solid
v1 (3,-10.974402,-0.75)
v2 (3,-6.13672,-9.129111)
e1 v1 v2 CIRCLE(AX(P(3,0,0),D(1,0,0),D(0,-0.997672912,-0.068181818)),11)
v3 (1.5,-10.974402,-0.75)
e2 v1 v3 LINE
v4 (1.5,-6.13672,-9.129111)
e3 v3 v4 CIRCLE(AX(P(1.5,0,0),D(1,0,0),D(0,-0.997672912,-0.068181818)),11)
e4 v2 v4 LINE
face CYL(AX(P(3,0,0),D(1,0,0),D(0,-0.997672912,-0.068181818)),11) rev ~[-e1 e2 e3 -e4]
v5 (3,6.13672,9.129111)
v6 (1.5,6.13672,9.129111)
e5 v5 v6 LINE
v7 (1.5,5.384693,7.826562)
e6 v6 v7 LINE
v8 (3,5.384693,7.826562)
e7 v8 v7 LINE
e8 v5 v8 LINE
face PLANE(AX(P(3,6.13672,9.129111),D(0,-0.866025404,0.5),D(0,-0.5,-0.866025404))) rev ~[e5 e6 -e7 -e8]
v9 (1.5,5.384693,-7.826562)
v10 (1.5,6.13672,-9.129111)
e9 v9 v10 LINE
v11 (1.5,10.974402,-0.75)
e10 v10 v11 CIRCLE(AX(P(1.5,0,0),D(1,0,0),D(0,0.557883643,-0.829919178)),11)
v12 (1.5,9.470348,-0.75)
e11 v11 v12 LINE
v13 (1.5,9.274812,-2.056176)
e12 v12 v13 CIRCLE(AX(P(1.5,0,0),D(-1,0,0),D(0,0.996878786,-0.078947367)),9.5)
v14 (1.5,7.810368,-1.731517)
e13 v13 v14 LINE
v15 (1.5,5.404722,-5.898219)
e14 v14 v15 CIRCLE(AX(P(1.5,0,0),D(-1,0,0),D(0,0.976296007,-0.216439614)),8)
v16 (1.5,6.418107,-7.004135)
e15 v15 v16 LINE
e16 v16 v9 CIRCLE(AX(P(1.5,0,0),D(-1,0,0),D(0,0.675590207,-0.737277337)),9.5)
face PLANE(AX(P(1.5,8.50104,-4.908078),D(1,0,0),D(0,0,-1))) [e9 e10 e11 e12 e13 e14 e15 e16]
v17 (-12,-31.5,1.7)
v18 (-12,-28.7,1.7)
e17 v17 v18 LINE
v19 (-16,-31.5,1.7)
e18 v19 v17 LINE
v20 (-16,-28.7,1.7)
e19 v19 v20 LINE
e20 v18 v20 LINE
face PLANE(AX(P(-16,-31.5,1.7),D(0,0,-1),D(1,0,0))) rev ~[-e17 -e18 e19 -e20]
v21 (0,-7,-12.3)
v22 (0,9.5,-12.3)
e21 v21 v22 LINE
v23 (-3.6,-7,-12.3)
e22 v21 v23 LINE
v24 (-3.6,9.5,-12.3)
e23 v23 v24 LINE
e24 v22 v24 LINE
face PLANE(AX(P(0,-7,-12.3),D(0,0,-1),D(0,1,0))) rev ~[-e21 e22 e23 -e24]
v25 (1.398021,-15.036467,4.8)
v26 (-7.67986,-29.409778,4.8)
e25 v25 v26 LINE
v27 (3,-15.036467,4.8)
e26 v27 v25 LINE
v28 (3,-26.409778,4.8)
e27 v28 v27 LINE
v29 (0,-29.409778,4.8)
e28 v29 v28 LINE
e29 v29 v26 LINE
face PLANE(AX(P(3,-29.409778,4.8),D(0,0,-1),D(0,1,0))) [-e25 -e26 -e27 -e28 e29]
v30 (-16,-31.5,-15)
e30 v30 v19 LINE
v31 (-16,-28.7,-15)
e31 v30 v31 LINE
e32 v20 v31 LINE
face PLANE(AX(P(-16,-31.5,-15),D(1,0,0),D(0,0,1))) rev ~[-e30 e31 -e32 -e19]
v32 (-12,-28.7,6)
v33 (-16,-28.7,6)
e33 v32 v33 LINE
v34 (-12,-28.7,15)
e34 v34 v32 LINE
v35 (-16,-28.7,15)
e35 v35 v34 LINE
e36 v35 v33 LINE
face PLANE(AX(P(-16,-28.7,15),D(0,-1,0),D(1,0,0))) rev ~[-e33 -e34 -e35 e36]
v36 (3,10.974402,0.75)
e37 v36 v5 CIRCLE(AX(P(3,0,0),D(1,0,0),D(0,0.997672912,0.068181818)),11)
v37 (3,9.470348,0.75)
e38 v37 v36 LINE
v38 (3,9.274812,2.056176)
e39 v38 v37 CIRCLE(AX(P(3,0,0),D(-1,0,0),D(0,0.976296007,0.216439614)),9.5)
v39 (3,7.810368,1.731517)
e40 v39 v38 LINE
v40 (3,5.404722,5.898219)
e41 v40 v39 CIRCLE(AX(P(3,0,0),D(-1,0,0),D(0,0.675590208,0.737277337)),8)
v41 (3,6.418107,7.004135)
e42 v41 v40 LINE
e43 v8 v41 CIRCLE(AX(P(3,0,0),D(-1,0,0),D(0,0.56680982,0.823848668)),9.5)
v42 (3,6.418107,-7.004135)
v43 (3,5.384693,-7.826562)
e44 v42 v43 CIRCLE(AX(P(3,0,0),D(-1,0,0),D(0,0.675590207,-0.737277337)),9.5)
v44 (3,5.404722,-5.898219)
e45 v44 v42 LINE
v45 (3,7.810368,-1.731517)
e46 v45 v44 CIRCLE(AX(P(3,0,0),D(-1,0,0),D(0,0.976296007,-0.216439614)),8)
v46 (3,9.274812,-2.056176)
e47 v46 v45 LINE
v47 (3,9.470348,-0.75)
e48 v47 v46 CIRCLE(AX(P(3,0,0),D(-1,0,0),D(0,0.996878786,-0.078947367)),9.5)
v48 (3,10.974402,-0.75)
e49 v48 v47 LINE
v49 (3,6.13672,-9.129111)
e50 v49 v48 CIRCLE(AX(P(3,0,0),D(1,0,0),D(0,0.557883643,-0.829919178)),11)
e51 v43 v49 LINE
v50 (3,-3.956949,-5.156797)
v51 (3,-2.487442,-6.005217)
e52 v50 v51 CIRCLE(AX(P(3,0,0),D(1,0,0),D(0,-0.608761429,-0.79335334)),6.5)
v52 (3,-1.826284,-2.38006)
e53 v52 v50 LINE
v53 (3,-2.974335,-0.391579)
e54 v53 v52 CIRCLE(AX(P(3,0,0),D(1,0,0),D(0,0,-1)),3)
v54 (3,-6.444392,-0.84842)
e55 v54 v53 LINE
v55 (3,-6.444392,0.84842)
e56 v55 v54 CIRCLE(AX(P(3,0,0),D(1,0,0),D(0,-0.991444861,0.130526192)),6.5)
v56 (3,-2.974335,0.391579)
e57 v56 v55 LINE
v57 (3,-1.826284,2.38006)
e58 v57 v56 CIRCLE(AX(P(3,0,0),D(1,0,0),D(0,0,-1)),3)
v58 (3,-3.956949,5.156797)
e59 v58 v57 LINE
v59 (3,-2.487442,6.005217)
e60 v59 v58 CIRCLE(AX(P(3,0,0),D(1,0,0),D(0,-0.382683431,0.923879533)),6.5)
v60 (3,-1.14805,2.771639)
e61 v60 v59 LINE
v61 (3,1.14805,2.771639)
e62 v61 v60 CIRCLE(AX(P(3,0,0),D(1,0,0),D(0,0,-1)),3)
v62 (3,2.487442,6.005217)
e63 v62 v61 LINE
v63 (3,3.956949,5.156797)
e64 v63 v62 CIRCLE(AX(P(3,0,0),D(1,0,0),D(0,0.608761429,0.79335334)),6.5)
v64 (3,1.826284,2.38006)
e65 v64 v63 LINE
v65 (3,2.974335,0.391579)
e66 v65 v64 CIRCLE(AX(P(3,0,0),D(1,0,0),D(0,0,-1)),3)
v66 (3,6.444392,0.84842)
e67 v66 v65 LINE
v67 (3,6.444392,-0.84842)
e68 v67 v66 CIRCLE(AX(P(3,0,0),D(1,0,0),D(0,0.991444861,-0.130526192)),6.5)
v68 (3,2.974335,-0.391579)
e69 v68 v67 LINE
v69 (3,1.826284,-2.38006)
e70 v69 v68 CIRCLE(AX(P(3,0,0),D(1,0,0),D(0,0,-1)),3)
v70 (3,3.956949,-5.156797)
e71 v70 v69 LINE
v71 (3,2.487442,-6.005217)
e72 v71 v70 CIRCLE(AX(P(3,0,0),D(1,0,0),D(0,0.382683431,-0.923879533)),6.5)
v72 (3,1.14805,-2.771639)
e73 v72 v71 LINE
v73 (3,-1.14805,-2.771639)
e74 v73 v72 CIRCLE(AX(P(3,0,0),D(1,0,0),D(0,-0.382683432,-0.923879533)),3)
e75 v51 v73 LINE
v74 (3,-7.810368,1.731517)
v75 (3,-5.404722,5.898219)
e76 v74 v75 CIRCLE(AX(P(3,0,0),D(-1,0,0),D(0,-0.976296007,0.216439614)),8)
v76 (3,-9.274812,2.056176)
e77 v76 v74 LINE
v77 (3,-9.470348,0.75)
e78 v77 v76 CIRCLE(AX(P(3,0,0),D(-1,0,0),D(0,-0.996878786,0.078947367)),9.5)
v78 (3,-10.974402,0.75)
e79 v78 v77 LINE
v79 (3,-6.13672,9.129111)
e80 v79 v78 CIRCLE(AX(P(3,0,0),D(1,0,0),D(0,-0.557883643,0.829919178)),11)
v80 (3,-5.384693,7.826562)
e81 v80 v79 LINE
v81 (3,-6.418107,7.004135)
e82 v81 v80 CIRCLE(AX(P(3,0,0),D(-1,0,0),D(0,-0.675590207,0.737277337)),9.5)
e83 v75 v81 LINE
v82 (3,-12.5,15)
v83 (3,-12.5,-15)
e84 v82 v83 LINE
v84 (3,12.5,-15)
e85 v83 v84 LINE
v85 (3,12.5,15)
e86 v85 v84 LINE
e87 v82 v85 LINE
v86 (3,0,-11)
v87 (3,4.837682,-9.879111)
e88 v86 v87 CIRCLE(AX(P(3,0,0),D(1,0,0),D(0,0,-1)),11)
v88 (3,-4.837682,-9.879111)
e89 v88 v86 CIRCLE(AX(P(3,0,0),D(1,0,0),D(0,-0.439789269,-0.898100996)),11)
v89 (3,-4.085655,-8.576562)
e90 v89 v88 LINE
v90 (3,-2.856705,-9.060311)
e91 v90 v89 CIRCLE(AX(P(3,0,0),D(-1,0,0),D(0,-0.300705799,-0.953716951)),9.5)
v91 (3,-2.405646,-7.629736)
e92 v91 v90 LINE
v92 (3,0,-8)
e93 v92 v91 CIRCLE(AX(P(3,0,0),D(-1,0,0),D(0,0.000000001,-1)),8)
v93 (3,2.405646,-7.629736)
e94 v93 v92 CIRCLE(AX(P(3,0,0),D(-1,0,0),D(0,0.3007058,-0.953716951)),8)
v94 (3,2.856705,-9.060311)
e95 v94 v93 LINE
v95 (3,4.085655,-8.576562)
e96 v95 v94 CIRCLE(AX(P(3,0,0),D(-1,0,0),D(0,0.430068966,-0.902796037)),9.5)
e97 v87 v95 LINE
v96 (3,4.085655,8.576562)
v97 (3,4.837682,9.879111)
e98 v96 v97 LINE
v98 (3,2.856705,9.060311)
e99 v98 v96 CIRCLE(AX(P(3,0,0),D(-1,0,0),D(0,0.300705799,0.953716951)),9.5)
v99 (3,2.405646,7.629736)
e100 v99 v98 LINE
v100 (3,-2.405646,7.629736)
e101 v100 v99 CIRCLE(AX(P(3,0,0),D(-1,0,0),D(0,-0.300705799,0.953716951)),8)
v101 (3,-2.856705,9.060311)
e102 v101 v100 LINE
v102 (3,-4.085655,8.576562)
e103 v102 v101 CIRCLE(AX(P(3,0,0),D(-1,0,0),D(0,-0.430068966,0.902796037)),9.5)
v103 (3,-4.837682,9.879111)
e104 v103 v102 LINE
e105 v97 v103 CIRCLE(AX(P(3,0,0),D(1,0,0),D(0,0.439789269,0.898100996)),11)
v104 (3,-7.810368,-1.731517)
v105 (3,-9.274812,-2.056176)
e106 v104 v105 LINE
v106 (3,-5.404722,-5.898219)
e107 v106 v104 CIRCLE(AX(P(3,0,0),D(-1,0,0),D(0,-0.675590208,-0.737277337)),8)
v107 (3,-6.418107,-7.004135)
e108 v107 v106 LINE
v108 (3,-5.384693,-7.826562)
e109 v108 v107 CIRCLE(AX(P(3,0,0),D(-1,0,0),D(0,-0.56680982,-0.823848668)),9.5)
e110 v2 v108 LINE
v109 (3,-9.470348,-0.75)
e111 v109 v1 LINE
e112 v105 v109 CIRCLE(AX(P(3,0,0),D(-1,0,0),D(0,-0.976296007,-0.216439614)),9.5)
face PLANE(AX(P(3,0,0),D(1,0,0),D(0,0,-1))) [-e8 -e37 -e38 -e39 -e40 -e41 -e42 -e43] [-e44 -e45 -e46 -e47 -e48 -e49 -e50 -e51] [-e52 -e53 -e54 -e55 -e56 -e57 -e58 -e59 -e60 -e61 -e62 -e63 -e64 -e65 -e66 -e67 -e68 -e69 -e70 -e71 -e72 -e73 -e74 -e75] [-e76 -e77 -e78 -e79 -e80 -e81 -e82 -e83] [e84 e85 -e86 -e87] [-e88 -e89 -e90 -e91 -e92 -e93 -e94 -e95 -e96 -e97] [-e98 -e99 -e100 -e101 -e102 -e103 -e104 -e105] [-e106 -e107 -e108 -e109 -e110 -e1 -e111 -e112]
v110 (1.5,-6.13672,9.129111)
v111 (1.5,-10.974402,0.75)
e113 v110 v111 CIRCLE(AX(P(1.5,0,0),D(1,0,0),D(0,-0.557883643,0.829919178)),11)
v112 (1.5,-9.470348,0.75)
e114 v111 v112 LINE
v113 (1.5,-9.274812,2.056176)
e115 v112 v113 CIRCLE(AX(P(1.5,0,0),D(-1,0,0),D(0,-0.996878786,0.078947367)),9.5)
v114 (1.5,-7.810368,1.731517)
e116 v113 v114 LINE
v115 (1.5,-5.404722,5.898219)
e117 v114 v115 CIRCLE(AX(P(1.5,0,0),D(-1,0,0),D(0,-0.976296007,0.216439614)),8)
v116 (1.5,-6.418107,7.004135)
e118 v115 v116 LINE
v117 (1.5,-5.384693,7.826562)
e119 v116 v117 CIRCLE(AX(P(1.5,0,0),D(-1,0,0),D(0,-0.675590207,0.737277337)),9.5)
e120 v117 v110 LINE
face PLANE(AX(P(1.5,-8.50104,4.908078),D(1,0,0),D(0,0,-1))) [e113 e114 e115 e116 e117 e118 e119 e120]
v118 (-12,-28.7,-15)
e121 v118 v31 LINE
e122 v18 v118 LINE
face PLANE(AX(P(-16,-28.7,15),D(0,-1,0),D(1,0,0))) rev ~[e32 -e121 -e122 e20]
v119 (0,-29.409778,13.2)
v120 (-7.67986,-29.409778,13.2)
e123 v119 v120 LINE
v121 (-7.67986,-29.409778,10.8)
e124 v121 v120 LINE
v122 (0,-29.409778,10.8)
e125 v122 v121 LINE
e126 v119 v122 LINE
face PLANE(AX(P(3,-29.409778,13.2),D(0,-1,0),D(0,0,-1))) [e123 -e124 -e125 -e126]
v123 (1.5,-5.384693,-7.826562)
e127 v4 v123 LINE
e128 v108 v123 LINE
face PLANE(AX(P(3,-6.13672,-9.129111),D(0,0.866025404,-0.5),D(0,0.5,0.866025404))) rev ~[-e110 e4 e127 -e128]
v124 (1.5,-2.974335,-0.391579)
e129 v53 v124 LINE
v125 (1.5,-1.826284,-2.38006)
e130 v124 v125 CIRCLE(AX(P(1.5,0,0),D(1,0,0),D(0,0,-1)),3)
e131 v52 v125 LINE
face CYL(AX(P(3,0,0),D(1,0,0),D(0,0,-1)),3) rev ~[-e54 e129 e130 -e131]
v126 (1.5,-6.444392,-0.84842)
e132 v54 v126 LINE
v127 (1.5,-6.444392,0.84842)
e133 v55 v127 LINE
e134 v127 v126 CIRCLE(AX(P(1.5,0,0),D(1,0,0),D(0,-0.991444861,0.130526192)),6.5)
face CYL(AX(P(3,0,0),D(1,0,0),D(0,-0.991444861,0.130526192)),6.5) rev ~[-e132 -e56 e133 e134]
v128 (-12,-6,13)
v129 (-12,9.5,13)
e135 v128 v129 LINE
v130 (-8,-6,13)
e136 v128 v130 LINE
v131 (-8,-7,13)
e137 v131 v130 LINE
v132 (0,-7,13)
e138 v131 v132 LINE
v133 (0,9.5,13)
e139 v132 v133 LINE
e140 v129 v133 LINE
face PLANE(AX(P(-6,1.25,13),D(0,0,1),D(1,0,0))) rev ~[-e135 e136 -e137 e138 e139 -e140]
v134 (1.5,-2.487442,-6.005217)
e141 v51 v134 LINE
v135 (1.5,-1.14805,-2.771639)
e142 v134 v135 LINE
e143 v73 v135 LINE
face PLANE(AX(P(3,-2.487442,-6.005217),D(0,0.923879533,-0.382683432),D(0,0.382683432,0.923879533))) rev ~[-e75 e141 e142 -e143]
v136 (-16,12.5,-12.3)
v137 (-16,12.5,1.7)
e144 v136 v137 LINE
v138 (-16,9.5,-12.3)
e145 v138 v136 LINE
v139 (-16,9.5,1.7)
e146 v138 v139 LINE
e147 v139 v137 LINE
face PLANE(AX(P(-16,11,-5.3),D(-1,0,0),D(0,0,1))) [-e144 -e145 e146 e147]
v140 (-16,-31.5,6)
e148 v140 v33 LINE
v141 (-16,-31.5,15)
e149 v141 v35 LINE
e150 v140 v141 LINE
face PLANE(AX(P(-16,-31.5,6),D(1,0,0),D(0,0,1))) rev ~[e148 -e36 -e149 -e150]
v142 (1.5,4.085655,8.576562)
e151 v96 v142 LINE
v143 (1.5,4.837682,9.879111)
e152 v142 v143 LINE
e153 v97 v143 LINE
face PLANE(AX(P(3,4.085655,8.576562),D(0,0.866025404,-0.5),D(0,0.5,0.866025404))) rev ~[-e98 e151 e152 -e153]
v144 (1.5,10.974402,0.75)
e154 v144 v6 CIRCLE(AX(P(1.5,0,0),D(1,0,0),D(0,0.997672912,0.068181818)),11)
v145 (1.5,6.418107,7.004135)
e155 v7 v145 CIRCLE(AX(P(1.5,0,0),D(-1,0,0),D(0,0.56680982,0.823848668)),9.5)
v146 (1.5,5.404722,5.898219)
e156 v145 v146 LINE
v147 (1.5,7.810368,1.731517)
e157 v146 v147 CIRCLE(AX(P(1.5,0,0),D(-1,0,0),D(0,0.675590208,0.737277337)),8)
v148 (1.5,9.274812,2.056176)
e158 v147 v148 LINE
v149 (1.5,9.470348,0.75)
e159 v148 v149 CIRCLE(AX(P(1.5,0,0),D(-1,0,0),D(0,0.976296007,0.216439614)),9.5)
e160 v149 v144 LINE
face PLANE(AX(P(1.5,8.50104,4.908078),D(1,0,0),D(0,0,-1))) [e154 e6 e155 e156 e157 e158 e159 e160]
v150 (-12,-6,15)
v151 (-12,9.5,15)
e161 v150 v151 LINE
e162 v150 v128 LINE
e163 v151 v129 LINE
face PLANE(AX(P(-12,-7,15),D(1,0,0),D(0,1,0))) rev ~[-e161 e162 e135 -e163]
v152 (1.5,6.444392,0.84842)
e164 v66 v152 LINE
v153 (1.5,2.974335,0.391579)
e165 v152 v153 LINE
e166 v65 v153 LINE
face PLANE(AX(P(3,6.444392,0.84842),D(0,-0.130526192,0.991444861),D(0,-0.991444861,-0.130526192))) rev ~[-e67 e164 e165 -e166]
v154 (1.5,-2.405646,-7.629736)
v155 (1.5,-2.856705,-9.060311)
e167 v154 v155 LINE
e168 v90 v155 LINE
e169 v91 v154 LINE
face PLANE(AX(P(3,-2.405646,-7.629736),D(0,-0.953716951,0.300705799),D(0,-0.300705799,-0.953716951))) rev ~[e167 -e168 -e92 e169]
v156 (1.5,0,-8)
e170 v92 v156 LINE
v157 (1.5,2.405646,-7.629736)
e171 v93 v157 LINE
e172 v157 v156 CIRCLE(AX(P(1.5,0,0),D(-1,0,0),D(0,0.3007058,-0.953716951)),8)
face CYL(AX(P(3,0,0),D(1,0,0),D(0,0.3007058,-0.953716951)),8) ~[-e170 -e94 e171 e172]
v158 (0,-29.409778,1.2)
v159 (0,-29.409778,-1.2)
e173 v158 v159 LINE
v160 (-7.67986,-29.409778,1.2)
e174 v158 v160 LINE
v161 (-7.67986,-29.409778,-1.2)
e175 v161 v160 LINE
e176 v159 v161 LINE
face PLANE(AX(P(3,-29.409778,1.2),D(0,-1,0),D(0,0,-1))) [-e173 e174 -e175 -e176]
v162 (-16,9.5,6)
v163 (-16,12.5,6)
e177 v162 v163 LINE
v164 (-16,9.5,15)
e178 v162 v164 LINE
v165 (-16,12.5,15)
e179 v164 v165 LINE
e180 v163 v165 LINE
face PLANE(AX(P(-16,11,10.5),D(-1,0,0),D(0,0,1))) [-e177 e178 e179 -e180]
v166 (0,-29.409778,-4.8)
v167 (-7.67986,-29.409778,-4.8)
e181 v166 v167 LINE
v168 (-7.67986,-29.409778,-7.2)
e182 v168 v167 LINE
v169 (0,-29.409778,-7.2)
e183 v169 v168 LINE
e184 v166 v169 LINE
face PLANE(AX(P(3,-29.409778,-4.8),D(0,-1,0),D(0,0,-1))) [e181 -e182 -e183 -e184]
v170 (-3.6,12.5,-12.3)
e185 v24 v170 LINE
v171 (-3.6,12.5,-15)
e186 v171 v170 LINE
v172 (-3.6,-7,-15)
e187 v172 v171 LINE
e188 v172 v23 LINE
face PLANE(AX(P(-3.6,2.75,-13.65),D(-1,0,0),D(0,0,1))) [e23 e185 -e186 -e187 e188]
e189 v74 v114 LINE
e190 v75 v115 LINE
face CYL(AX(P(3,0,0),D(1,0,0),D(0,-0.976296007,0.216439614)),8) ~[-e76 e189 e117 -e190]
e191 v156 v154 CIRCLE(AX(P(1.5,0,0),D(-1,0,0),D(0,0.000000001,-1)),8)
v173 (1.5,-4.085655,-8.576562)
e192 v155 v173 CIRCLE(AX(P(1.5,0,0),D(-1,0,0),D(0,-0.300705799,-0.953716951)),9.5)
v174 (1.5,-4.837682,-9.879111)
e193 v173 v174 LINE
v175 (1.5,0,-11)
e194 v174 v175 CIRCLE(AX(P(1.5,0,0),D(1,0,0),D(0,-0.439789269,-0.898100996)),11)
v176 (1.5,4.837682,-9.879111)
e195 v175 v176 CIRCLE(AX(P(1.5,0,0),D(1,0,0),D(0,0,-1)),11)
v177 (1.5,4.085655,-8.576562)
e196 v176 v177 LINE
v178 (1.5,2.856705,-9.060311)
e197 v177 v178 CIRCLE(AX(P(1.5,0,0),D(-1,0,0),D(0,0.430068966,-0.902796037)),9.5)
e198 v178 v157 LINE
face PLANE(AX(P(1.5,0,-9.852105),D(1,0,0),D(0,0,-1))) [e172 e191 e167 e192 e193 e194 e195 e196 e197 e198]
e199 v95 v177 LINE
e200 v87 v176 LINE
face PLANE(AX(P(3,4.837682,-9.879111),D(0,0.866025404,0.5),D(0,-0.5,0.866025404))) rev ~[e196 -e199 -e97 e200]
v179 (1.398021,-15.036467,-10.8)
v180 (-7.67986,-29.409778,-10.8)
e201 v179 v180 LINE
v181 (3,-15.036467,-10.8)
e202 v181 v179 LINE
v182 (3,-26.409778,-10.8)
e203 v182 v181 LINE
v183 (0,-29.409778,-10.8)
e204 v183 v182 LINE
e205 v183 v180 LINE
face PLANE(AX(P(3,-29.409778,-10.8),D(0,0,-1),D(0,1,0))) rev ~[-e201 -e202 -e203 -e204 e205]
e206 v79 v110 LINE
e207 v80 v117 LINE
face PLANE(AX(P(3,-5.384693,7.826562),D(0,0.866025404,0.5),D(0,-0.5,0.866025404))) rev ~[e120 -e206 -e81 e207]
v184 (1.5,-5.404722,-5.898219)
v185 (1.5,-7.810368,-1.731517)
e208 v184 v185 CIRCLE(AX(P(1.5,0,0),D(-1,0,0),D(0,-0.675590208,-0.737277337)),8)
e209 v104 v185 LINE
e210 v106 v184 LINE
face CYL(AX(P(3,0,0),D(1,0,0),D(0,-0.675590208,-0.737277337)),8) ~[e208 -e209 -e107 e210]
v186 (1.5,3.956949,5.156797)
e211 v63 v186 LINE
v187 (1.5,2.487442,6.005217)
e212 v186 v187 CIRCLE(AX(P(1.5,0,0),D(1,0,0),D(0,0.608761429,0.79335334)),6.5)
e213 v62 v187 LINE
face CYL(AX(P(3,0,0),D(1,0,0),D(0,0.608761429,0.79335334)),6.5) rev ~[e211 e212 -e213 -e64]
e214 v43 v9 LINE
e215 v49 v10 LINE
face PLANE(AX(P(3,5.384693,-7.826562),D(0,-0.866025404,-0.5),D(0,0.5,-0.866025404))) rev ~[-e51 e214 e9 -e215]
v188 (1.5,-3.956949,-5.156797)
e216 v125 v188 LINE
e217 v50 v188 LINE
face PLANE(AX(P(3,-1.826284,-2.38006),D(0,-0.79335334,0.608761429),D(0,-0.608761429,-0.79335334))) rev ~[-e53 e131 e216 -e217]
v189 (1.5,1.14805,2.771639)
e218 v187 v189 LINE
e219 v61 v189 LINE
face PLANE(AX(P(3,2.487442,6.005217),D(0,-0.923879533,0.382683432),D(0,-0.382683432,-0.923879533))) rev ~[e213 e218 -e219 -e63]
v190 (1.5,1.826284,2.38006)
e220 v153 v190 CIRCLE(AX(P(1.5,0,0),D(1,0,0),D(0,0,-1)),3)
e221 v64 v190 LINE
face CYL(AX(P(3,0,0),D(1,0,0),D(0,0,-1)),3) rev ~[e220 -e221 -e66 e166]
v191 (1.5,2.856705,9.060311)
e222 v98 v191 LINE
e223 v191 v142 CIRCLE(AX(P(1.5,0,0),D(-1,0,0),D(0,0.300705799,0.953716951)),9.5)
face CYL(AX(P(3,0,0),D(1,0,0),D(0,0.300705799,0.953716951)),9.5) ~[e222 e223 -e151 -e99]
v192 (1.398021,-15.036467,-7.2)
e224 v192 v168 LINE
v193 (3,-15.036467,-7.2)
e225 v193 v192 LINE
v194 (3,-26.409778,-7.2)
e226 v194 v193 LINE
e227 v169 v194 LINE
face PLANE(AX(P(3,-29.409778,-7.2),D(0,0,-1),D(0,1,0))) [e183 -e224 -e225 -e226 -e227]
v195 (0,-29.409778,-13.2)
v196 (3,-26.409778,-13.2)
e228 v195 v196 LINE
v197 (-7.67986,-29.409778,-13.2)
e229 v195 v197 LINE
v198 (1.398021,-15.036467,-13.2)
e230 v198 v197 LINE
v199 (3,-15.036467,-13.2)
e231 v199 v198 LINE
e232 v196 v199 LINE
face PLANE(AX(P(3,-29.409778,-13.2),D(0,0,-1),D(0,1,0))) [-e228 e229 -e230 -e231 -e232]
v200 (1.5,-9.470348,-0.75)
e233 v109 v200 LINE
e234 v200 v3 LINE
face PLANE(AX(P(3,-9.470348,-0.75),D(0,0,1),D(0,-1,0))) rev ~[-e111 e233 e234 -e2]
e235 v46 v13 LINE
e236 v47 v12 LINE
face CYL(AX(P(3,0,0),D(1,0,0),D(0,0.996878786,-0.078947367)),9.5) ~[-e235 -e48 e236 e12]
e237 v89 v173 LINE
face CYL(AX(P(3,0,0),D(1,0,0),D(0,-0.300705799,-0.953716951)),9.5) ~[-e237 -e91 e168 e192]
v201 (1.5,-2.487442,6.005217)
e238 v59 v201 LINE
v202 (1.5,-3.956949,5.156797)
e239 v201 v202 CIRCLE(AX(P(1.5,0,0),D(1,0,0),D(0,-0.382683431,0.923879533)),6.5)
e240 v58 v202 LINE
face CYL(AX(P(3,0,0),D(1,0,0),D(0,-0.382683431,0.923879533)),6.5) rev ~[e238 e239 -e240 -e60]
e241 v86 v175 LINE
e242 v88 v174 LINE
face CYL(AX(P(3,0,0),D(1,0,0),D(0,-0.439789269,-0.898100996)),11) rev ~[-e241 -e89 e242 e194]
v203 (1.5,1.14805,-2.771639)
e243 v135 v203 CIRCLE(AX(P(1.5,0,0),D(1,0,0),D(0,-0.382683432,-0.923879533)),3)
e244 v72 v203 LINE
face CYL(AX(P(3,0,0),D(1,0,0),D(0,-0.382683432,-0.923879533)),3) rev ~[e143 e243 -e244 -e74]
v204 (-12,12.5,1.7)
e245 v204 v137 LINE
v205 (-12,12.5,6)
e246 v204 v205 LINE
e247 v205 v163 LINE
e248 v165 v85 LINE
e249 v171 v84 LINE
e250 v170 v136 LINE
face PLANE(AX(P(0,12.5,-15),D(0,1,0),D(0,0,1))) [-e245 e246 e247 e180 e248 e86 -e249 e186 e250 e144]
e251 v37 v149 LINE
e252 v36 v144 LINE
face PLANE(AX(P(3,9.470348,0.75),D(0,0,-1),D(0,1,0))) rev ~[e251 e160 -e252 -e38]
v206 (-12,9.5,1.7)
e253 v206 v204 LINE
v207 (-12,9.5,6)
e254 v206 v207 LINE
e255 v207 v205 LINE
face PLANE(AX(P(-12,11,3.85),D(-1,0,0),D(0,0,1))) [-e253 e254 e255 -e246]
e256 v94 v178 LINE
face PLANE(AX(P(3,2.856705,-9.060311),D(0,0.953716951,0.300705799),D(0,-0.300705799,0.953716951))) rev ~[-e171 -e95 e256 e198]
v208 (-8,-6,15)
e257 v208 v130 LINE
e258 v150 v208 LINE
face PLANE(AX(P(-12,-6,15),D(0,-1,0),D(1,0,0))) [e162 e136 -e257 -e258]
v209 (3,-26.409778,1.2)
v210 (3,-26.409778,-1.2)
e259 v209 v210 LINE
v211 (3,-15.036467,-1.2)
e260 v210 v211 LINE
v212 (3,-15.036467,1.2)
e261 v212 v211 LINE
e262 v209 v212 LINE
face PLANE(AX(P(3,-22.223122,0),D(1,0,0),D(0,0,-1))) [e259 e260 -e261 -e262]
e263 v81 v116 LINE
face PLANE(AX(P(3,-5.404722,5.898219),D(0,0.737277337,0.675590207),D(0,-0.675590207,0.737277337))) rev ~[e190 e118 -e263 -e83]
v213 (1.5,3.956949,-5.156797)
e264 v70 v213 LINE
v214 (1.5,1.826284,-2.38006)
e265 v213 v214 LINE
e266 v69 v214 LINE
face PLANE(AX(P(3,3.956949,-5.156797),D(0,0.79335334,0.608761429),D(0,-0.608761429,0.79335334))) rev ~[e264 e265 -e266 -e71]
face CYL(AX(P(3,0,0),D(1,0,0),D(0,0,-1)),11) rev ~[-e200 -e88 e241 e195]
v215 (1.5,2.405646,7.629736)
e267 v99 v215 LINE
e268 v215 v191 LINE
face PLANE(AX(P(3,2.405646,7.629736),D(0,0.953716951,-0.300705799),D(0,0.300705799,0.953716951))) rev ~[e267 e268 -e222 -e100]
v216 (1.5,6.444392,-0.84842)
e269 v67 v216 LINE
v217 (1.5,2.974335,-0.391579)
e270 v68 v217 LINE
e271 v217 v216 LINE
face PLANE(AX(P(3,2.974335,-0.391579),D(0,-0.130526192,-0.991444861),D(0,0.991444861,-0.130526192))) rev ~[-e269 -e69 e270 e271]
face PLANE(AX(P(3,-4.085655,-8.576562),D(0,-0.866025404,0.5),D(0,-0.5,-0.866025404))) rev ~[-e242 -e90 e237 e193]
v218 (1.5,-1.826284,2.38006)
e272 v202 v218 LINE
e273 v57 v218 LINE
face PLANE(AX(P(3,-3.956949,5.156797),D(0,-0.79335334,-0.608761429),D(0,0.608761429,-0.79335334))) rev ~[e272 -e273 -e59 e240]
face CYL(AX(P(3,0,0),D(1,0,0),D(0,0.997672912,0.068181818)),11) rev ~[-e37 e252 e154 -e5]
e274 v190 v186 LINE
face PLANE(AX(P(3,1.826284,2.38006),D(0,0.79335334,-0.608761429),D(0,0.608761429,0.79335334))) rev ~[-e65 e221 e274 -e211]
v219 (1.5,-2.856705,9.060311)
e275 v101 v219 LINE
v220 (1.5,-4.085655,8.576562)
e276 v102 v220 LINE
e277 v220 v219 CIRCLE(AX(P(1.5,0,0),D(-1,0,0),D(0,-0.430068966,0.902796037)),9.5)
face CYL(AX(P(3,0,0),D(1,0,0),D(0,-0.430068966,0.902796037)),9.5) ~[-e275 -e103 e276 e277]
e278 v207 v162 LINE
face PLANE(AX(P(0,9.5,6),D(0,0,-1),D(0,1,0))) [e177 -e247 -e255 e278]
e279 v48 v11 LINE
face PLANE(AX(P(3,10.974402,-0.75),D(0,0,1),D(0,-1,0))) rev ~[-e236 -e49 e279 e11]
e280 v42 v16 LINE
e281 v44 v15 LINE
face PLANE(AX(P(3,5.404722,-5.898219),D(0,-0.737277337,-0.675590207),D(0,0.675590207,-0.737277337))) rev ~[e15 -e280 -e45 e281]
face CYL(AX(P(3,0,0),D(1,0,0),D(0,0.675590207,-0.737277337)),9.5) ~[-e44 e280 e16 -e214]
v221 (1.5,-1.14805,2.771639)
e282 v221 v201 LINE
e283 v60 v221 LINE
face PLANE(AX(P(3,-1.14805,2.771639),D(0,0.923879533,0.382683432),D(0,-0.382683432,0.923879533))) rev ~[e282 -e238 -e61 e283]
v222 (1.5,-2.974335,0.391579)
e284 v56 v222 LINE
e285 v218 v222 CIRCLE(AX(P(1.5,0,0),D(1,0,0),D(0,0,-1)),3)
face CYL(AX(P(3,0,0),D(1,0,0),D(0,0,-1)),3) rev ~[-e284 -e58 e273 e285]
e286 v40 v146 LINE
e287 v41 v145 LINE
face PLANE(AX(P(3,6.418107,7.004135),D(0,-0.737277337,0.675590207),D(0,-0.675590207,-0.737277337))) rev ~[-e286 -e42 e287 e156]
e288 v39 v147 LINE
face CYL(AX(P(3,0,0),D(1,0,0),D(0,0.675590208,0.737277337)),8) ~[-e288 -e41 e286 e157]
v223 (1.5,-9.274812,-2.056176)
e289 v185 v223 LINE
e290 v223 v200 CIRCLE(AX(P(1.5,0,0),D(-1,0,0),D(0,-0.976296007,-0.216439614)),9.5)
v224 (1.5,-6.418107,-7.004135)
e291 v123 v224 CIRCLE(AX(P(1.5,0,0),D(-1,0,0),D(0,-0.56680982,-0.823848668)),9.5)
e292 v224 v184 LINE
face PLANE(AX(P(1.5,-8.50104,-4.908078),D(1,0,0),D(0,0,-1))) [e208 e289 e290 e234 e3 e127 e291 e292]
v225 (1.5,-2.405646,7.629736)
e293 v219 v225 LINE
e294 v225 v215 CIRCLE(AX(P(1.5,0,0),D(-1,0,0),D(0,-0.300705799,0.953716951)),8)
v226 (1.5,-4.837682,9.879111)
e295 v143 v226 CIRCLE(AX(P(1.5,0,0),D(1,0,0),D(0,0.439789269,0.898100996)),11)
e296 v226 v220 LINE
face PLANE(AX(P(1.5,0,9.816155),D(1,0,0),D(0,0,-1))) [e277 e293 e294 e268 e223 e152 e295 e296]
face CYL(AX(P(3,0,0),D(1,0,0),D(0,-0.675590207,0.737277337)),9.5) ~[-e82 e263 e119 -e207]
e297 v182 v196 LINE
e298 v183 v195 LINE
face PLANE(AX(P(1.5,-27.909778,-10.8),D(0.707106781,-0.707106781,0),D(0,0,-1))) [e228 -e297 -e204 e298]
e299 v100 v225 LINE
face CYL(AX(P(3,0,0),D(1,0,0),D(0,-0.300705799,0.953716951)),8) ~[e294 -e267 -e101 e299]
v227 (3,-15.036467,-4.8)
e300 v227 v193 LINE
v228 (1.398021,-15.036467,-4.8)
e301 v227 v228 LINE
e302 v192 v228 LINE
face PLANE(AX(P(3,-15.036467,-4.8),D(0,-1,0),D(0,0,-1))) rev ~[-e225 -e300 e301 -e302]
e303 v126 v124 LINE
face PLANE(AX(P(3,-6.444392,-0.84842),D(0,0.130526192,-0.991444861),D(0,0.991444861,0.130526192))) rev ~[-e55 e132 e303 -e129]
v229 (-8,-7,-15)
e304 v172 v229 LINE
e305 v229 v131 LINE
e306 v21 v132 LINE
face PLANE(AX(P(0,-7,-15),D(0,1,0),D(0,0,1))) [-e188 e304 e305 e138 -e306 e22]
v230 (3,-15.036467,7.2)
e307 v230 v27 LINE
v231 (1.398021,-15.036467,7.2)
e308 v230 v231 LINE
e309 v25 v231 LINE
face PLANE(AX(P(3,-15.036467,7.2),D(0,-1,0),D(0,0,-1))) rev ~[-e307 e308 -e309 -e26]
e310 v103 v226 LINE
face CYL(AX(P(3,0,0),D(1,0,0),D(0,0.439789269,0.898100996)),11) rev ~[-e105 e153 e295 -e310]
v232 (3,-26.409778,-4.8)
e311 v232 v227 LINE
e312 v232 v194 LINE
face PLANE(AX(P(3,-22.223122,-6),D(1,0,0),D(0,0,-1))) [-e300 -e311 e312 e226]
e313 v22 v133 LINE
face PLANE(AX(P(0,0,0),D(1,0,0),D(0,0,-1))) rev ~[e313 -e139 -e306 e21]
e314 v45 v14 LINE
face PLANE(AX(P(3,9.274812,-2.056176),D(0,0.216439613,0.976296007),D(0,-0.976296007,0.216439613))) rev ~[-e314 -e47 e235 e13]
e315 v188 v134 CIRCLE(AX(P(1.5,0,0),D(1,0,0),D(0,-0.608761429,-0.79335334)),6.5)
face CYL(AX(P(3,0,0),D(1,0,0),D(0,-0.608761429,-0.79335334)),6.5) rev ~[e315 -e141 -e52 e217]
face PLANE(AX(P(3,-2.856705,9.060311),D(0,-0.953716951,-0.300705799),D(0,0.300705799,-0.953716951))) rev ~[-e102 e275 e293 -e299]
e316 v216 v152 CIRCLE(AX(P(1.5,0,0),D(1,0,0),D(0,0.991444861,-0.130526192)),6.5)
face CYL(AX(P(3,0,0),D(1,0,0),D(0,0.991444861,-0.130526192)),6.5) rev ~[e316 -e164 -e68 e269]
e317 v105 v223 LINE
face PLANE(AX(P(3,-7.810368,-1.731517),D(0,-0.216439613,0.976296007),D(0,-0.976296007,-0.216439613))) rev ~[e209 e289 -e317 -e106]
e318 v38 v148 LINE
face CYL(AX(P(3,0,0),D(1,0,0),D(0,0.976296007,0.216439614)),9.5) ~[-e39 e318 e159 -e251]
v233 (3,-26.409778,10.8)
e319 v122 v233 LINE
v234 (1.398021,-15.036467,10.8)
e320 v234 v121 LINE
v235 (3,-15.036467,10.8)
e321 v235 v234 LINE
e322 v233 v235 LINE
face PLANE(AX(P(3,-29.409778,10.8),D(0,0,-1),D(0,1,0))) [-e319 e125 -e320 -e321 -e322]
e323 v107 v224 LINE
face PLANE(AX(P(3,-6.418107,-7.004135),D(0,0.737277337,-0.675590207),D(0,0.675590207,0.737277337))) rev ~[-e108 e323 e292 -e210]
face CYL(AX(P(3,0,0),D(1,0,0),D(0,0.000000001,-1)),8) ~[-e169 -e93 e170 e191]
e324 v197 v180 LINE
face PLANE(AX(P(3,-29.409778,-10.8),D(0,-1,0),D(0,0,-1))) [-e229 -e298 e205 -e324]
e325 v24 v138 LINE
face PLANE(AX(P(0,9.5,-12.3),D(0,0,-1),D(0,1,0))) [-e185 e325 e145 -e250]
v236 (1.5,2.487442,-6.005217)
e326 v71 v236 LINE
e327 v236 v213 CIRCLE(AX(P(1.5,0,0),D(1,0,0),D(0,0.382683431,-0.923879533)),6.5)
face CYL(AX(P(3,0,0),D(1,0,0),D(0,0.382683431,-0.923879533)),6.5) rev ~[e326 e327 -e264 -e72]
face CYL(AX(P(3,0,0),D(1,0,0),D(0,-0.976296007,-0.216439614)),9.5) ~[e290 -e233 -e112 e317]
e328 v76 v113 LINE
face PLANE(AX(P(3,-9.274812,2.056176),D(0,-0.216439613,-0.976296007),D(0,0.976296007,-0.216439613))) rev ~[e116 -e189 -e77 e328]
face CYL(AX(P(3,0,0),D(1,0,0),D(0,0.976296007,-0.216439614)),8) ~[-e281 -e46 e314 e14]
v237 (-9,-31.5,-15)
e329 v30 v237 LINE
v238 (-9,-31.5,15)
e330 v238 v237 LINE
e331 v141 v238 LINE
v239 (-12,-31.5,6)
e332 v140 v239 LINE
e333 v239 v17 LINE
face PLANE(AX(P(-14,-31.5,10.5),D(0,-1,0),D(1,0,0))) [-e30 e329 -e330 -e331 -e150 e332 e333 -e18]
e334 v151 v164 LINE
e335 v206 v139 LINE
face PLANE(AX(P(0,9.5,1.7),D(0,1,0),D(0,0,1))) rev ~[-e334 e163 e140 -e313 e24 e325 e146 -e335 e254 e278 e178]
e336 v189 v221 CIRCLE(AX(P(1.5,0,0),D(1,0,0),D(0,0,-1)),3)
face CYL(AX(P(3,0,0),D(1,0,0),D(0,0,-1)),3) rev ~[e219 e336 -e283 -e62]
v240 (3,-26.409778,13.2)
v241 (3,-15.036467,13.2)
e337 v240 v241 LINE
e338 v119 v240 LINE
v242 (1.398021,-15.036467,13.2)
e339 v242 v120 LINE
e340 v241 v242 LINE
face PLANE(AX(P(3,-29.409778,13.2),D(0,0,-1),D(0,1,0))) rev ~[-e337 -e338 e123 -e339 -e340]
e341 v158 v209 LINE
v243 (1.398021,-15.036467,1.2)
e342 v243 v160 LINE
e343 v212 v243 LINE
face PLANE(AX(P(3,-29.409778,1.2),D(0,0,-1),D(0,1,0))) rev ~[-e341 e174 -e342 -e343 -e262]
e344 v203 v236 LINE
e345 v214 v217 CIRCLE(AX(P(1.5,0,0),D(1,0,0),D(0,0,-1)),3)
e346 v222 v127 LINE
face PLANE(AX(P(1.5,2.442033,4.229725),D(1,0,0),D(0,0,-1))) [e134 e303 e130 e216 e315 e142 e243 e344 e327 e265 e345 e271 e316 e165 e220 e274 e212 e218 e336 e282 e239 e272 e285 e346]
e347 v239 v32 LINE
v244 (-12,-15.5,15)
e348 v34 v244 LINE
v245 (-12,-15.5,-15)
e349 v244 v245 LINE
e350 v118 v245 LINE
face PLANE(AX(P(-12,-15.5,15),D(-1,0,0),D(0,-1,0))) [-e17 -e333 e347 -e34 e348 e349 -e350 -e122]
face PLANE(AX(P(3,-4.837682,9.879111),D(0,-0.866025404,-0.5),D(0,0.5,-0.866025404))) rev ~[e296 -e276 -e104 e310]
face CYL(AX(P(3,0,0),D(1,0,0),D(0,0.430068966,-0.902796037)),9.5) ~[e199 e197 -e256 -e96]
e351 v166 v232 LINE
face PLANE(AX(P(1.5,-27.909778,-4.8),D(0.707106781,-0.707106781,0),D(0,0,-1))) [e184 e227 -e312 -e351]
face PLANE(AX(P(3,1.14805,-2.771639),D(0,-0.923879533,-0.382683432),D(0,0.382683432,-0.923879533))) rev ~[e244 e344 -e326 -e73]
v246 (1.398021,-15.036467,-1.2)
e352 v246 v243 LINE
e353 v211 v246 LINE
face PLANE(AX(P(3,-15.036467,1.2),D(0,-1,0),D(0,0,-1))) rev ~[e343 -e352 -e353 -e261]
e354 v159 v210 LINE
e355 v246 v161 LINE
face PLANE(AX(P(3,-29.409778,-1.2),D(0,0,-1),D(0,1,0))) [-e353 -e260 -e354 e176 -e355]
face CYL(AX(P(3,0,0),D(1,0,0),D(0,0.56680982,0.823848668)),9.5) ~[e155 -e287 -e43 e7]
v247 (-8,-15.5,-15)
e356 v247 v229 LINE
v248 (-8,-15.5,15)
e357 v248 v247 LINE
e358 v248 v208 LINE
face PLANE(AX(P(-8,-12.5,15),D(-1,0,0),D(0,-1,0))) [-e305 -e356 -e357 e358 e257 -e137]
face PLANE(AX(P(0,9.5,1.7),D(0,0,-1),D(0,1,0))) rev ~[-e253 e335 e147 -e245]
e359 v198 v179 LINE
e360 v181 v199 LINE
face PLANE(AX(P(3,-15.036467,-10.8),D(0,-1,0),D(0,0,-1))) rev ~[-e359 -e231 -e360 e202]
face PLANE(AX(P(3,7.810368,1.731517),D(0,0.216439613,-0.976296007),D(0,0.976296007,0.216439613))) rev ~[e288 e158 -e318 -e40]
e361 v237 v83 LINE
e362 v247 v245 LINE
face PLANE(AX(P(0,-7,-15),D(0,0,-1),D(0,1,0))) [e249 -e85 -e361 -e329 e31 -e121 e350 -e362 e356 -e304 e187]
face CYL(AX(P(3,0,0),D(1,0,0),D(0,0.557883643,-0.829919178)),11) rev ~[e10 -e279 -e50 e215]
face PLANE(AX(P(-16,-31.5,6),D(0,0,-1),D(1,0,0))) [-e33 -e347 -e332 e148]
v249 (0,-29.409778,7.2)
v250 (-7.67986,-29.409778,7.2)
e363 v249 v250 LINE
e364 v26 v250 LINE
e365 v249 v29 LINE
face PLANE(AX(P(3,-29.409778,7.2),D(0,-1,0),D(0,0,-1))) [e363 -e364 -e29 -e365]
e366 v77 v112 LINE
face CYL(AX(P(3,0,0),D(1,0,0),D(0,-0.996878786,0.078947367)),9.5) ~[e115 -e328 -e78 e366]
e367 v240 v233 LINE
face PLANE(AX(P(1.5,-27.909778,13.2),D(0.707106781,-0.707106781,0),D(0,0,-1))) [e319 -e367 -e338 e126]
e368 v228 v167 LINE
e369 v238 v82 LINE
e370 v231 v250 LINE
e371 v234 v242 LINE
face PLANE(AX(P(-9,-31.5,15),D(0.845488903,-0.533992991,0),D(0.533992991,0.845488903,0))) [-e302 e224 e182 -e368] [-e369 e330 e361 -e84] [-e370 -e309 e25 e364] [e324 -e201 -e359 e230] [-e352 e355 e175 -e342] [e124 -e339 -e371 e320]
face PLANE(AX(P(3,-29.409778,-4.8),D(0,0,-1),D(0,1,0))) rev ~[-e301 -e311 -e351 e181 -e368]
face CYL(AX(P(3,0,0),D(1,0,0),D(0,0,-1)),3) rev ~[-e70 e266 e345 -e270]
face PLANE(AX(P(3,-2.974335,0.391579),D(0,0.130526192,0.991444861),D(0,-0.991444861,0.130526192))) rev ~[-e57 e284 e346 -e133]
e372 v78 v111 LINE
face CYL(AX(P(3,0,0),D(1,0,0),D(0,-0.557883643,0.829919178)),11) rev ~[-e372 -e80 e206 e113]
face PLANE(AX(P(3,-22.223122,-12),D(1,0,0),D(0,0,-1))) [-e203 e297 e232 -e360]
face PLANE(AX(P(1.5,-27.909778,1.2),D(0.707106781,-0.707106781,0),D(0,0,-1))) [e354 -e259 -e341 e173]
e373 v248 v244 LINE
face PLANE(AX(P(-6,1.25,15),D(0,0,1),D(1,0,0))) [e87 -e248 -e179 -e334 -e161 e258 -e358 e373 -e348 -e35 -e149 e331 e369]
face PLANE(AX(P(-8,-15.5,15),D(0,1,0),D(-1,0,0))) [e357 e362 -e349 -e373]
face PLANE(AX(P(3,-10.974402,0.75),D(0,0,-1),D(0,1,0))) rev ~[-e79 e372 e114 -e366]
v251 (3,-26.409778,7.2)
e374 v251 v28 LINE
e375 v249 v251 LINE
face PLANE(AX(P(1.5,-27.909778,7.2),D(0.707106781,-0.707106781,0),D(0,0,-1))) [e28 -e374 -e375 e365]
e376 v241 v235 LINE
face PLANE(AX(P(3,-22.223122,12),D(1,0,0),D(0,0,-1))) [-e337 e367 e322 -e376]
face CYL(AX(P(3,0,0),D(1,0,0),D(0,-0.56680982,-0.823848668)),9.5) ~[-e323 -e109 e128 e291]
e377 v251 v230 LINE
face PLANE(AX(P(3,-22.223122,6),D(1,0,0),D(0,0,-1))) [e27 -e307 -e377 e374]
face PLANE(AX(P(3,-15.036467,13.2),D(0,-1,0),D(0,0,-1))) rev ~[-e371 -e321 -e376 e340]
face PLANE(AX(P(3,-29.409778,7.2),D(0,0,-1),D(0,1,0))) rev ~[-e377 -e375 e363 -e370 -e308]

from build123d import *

# Parameters (mm, degrees)
SKETCH1_W           = 30
SKETCH1_H           = 25
BOSS_EXTRUDE1_DEPTH = 3
SKETCH2_W           = 9
SKETCH2_H           = 3
SKETCH2_W_2         = 14
BOSS_EXTRUDE2_DEPTH = 16
SKETCH3_W           = 4.3
SKETCH3_H           = 3
BOSS_EXTRUDE3_DEPTH = 12
SKETCH4_W           = 30
SKETCH4_H           = 5.5
BOSS_EXTRUDE4_DEPTH = 8
BOSS_EXTRUDE5_DEPTH = 30
SKETCH7_W           = 4
SKETCH7_H           = 9
SKETCH7_H_2         = 16.7
BOSS_EXTRUDE6_DEPTH = 3
SKETCH9_W           = 12
SKETCH9_H           = 16.5
BOSS_EXTRUDE7_DEPTH = 2
BOSS_EXTRUDE8_REACH = 41.727
SKETCH11_W          = 2.4
SKETCH11_H          = 14.373311352
CHAMFER1_SIZE       = 3
SKETCH12_R          = 3
CUT_EXTRUDE1_DEPTH  = 1.5
SKETCH13_W          = 2.7
SKETCH13_H          = 19.5
BOSS_EXTRUDE9_DEPTH = 3.6
SKETCH14_W          = 4
SKETCH14_H          = 1
SKETCH14_H_2        = 0.2
CUT_EXTRUDE2_DEPTH  = 47.349217901


with BuildPart() as part:
    # Sketch1 → Boss-Extrude1 (new body)
    with BuildSketch(Plane(origin=(0, 0, 0), x_dir=(0, 0, -1), z_dir=(1, 0, 0))):
        Rectangle(SKETCH1_W, SKETCH1_H)
    extrude(amount=BOSS_EXTRUDE1_DEPTH)

    # Sketch2 → Boss-Extrude2 (add)
    with BuildSketch(Plane.ZY):
        with Locations((10.5, 11)):
            Rectangle(SKETCH2_W, SKETCH2_H)
        with Locations((-5.3, 11)):
            Rectangle(SKETCH2_W_2, SKETCH2_H)
    extrude(amount=BOSS_EXTRUDE2_DEPTH)

    # Sketch3 → Boss-Extrude3 (add)
    with BuildSketch(Plane.ZY):
        with Locations((3.85, 11)):
            Rectangle(SKETCH3_W, SKETCH3_H)
    extrude(amount=BOSS_EXTRUDE3_DEPTH)

    # Sketch4 → Boss-Extrude4 (add)
    with BuildSketch(Plane.ZY):
        with Locations((0, -9.75)):
            Rectangle(SKETCH4_W, SKETCH4_H)
    extrude(amount=BOSS_EXTRUDE4_DEPTH)

    # Sketch5 → Boss-Extrude5 (add)
    with BuildSketch(Plane.XY.offset(15)):
        Polygon((-12, -31.5), (-9, -31.5), (3, -12.5), (-8, -12.5), (-8, -15.5), (-12, -15.5), align=None)
    extrude(amount=-BOSS_EXTRUDE5_DEPTH)

    # Sketch7 → Boss-Extrude6 (add)
    with BuildSketch(Plane.XZ.offset(31.5)):
        with Locations((-14, 10.5)):
            Rectangle(SKETCH7_W, SKETCH7_H)
        with Locations((-14, -6.65)):
            Rectangle(SKETCH7_W, SKETCH7_H_2)
    extrude(amount=-BOSS_EXTRUDE6_DEPTH)

    # Sketch9 → Boss-Extrude7 (add)
    with BuildSketch(Plane.XY.offset(15)):
        with Locations((-6, 1.25)):
            Rectangle(SKETCH9_W, SKETCH9_H)
    extrude(amount=-BOSS_EXTRUDE7_DEPTH)

    # Boss-Extrude8: up to this plane
    boss_extrude8_end = Plane(origin=(-9, -31.5, -39.207436874), z_dir=(0.8454889030309711, -0.5339929913879816, 0))
    # Sketch11 → Boss-Extrude8 (add, up to the surface)
    with BuildSketch(Plane(origin=(3, 0, 0), x_dir=(0, 0, -1), z_dir=(1, 0, 0)), mode=Mode.PRIVATE) as boss_extrude8_sk1:
        with Locations((-12, -22.223122385)):
            Rectangle(SKETCH11_W, SKETCH11_H)
    boss_extrude8_tool1 = split(extrude(boss_extrude8_sk1.sketch, amount=-BOSS_EXTRUDE8_REACH, mode=Mode.PRIVATE), bisect_by=boss_extrude8_end, keep=Keep.BOTH, mode=Mode.PRIVATE)
    add(boss_extrude8_tool1.solids().sort_by_distance((3, -22.223122, 12))[0])
    # Sketch11 → Boss-Extrude8 (add, up to the surface)
    with BuildSketch(Plane(origin=(3, 0, 0), x_dir=(0, 0, -1), z_dir=(1, 0, 0)), mode=Mode.PRIVATE) as boss_extrude8_sk2:
        with Locations((-6, -22.223122385)):
            Rectangle(SKETCH11_W, SKETCH11_H)
    boss_extrude8_tool2 = split(extrude(boss_extrude8_sk2.sketch, amount=-BOSS_EXTRUDE8_REACH, mode=Mode.PRIVATE), bisect_by=boss_extrude8_end, keep=Keep.BOTH, mode=Mode.PRIVATE)
    add(boss_extrude8_tool2.solids().sort_by_distance((3, -22.223122, 6))[0])
    # Sketch11 → Boss-Extrude8 (add, up to the surface)
    with BuildSketch(Plane(origin=(3, 0, 0), x_dir=(0, 0, -1), z_dir=(1, 0, 0)), mode=Mode.PRIVATE) as boss_extrude8_sk3:
        with Locations((0, -22.223122385)):
            Rectangle(SKETCH11_W, SKETCH11_H)
    boss_extrude8_tool3 = split(extrude(boss_extrude8_sk3.sketch, amount=-BOSS_EXTRUDE8_REACH, mode=Mode.PRIVATE), bisect_by=boss_extrude8_end, keep=Keep.BOTH, mode=Mode.PRIVATE)
    add(boss_extrude8_tool3.solids().sort_by_distance((3, -22.223122, 0))[0])
    # Sketch11 → Boss-Extrude8 (add, up to the surface)
    with BuildSketch(Plane(origin=(3, 0, 0), x_dir=(0, 0, -1), z_dir=(1, 0, 0)), mode=Mode.PRIVATE) as boss_extrude8_sk4:
        with Locations((6, -22.223122385)):
            Rectangle(SKETCH11_W, SKETCH11_H)
    boss_extrude8_tool4 = split(extrude(boss_extrude8_sk4.sketch, amount=-BOSS_EXTRUDE8_REACH, mode=Mode.PRIVATE), bisect_by=boss_extrude8_end, keep=Keep.BOTH, mode=Mode.PRIVATE)
    add(boss_extrude8_tool4.solids().sort_by_distance((3, -22.223122, -6))[0])
    # Sketch11 → Boss-Extrude8 (add, up to the surface)
    with BuildSketch(Plane(origin=(3, 0, 0), x_dir=(0, 0, -1), z_dir=(1, 0, 0)), mode=Mode.PRIVATE) as boss_extrude8_sk5:
        with Locations((12, -22.223122385)):
            Rectangle(SKETCH11_W, SKETCH11_H)
    boss_extrude8_tool5 = split(extrude(boss_extrude8_sk5.sketch, amount=-BOSS_EXTRUDE8_REACH, mode=Mode.PRIVATE), bisect_by=boss_extrude8_end, keep=Keep.BOTH, mode=Mode.PRIVATE)
    add(boss_extrude8_tool5.solids().sort_by_distance((3, -22.223122, -12))[0])

    # Chamfer1
    chamfer1_edges = [part.edges().sort_by_distance(p)[0] for p in [
        (3, -29.409778061, 12),
        (3, -29.409778061, 6),
        (3, -29.409778061, 0),
        (3, -29.409778061, -6),
        (3, -29.409778061, -12),
    ]]
    chamfer(chamfer1_edges, length=CHAMFER1_SIZE)

    # Sketch12 → Cut-Extrude1 (cut)
    with BuildSketch(Plane(origin=(3, 0, 0), x_dir=(0, 0, -1), z_dir=(1, 0, 0))):
        with BuildLine():
            Line((-0.75, 9.470348462), (-0.75, 10.974402034))
            ThreePointArc((-0.75, 10.974402034), (-5.5, 9.526279442), (-9.129110953, 6.13672007))
            Line((-9.129110953, 6.13672007), (-7.826562351, 5.384693284))
            ThreePointArc((-7.826562351, 5.384693284), (-7.433328979, 5.915709618), (-7.0041347, 6.418106972))
            ThreePointArc((-7.0041347, 6.418106972), (-4.75, 8.227241336), (-2.056176332, 9.274812068))
            ThreePointArc((-2.056176332, 9.274812068), (-1.406490321, 9.39530654), (-0.75, 9.470348462))
        make_face()
        with BuildLine():
            Line((-8.576562351, 4.085655178), (-9.879110953, 4.837681964))
            ThreePointArc((-9.879110953, 4.837681964), (-11, 0), (-9.879110953, -4.837681964))
            Line((-9.879110953, -4.837681964), (-8.576562351, -4.085655178))
            ThreePointArc((-8.576562351, -4.085655178), (-8.8398193, -3.479596922), (-9.060311032, -2.856705095))
            ThreePointArc((-9.060311032, -2.856705095), (-9.5, 0), (-9.060311032, 2.856705095))
            ThreePointArc((-9.060311032, 2.856705095), (-8.8398193, 3.479596922), (-8.576562351, 4.085655178))
        make_face()
        with BuildLine():
            Line((-7.826562351, -5.384693284), (-9.129110953, -6.13672007))
            ThreePointArc((-9.129110953, -6.13672007), (-5.5, -9.526279442), (-0.75, -10.974402034))
            Line((-0.75, -10.974402034), (-0.75, -9.470348462))
            ThreePointArc((-0.75, -9.470348462), (-1.406490321, -9.39530654), (-2.056176332, -9.274812068))
            ThreePointArc((-2.056176332, -9.274812068), (-4.75, -8.227241336), (-7.0041347, -6.418106972))
            ThreePointArc((-7.0041347, -6.418106972), (-7.433328979, -5.915709618), (-7.826562351, -5.384693284))
        make_face()
        with BuildLine():
            ThreePointArc((0.75, -10.974402034), (5.5, -9.526279442), (9.129110953, -6.13672007))
            Line((9.129110953, -6.13672007), (7.826562351, -5.384693284))
            ThreePointArc((7.826562351, -5.384693284), (7.433328979, -5.915709618), (7.0041347, -6.418106972))
            ThreePointArc((7.0041347, -6.418106972), (4.75, -8.227241336), (2.056176332, -9.274812068))
            ThreePointArc((2.056176332, -9.274812068), (1.406490321, -9.39530654), (0.75, -9.470348462))
            Line((0.75, -9.470348462), (0.75, -10.974402034))
        make_face()
        with BuildLine():
            ThreePointArc((11, 0), (10.716114512, 2.482919604), (9.879110953, 4.837681964))
            Line((9.879110953, 4.837681964), (8.576562351, 4.085655178))
            ThreePointArc((8.576562351, 4.085655178), (8.8398193, 3.479596922), (9.060311032, 2.856705095))
            ThreePointArc((9.060311032, 2.856705095), (9.389434349, 1.445172169), (9.5, 0))
            ThreePointArc((9.5, 0), (9.389434349, -1.445172169), (9.060311032, -2.856705095))
            ThreePointArc((9.060311032, -2.856705095), (8.8398193, -3.479596922), (8.576562351, -4.085655178))
            Line((8.576562351, -4.085655178), (9.879110953, -4.837681964))
            ThreePointArc((9.879110953, -4.837681964), (10.716114512, -2.482919604), (11, 0))
        make_face()
        with BuildLine():
            ThreePointArc((9.129110953, 6.13672007), (5.5, 9.526279442), (0.75, 10.974402034))
            Line((0.75, 10.974402034), (0.75, 9.470348462))
            ThreePointArc((0.75, 9.470348462), (1.406490321, 9.39530654), (2.056176332, 9.274812068))
            ThreePointArc((2.056176332, 9.274812068), (4.75, 8.227241336), (7.0041347, 6.418106972))
            ThreePointArc((7.0041347, 6.418106972), (7.433328979, 5.915709618), (7.826562351, 5.384693284))
            Line((7.826562351, 5.384693284), (9.129110953, 6.13672007))
        make_face()
        with BuildLine():
            Line((-1.731516912, 7.810368057), (-2.056176332, 9.274812068))
            ThreePointArc((-2.056176332, 9.274812068), (-4.75, 8.227241336), (-7.0041347, 6.418106972))
            Line((-7.0041347, 6.418106972), (-5.898218694, 5.404721661))
            ThreePointArc((-5.898218694, 5.404721661), (-4, 6.92820323), (-1.731516912, 7.810368057))
        make_face()
        with BuildLine():
            Line((-7.629735606, 2.405646396), (-9.060311032, 2.856705095))
            ThreePointArc((-9.060311032, 2.856705095), (-9.5, 0), (-9.060311032, -2.856705095))
            Line((-9.060311032, -2.856705095), (-7.629735606, -2.405646396))
            ThreePointArc((-7.629735606, -2.405646396), (-8, 0), (-7.629735606, 2.405646396))
        make_face()
        with BuildLine():
            Line((-5.898218694, -5.404721661), (-7.0041347, -6.418106972))
            ThreePointArc((-7.0041347, -6.418106972), (-4.75, -8.227241336), (-2.056176332, -9.274812068))
            Line((-2.056176332, -9.274812068), (-1.731516912, -7.810368057))
            ThreePointArc((-1.731516912, -7.810368057), (-4, -6.92820323), (-5.898218694, -5.404721661))
        make_face()
        with BuildLine():
            ThreePointArc((2.056176332, -9.274812068), (4.75, -8.227241336), (7.0041347, -6.418106972))
            Line((7.0041347, -6.418106972), (5.898218694, -5.404721661))
            ThreePointArc((5.898218694, -5.404721661), (4, -6.92820323), (1.731516912, -7.810368057))
            Line((1.731516912, -7.810368057), (2.056176332, -9.274812068))
        make_face()
        with BuildLine():
            ThreePointArc((9.5, 0), (9.389434349, 1.445172169), (9.060311032, 2.856705095))
            Line((9.060311032, 2.856705095), (7.629735606, 2.405646396))
            ThreePointArc((7.629735606, 2.405646396), (7.906892084, 1.21698709), (8, 0))
            ThreePointArc((8, 0), (7.906892084, -1.21698709), (7.629735606, -2.405646396))
            Line((7.629735606, -2.405646396), (9.060311032, -2.856705095))
            ThreePointArc((9.060311032, -2.856705095), (9.389434349, -1.445172169), (9.5, 0))
        make_face()
        with BuildLine():
            ThreePointArc((7.0041347, 6.418106972), (4.75, 8.227241336), (2.056176332, 9.274812068))
            Line((2.056176332, 9.274812068), (1.731516912, 7.810368057))
            ThreePointArc((1.731516912, 7.810368057), (4, 6.92820323), (5.898218694, 5.404721661))
            Line((5.898218694, 5.404721661), (7.0041347, 6.418106972))
        make_face()
        with BuildLine():
            Line((-2.380060021, 1.826284287), (-5.156796712, 3.956949289))
            ThreePointArc((-5.156796712, 3.956949289), (-5.629165125, 3.25), (-6.005216961, 2.48744231))
            Line((-6.005216961, 2.48744231), (-2.771638598, 1.148050297))
            ThreePointArc((-2.771638598, 1.148050297), (-2.598076211, 1.5), (-2.380060021, 1.826284287))
        make_face()
        with BuildLine():
            Line((-2.771638598, -1.148050297), (-6.005216961, -2.48744231))
            ThreePointArc((-6.005216961, -2.48744231), (-5.629165125, -3.25), (-5.156796712, -3.956949289))
            Line((-5.156796712, -3.956949289), (-2.380060021, -1.826284287))
            ThreePointArc((-2.380060021, -1.826284287), (-2.598076211, -1.5), (-2.771638598, -1.148050297))
        make_face()
        with BuildLine():
            Line((-0.391578577, -2.974334584), (-0.848420249, -6.444391599))
            ThreePointArc((-0.848420249, -6.444391599), (0, -6.5), (0.848420249, -6.444391599))
            Line((0.848420249, -6.444391599), (0.391578577, -2.974334584))
            ThreePointArc((0.391578577, -2.974334584), (0, -3), (-0.391578577, -2.974334584))
        make_face()
        with BuildLine():
            ThreePointArc((5.156796712, -3.956949289), (5.629165125, -3.25), (6.005216961, -2.48744231))
            Line((6.005216961, -2.48744231), (2.771638598, -1.148050297))
            ThreePointArc((2.771638598, -1.148050297), (2.598076211, -1.5), (2.380060021, -1.826284287))
            Line((2.380060021, -1.826284287), (5.156796712, -3.956949289))
        make_face()
        with BuildLine():
            ThreePointArc((6.005216961, 2.48744231), (5.629165125, 3.25), (5.156796712, 3.956949289))
            Line((5.156796712, 3.956949289), (2.380060021, 1.826284287))
            ThreePointArc((2.380060021, 1.826284287), (2.598076211, 1.5), (2.771638598, 1.148050297))
            Line((2.771638598, 1.148050297), (6.005216961, 2.48744231))
        make_face()
        with BuildLine():
            ThreePointArc((0.848420249, 6.444391599), (0, 6.5), (-0.848420249, 6.444391599))
            Line((-0.848420249, 6.444391599), (-0.391578577, 2.974334584))
            ThreePointArc((-0.391578577, 2.974334584), (0, 3), (0.391578577, 2.974334584))
            Line((0.391578577, 2.974334584), (0.848420249, 6.444391599))
        make_face()
        Circle(SKETCH12_R)
    extrude(amount=-CUT_EXTRUDE1_DEPTH, mode=Mode.SUBTRACT)

    # Sketch13 → Boss-Extrude9 (add)
    with BuildSketch(Plane.ZY):
        with Locations((-13.65, 2.75)):
            Rectangle(SKETCH13_W, SKETCH13_H)
    extrude(amount=BOSS_EXTRUDE9_DEPTH)

    # Sketch14 → Cut-Extrude2 (cut, through all)
    with BuildSketch(Plane.XY.offset(15)):
        with Locations((-10, -6.5)):
            Rectangle(SKETCH14_W, SKETCH14_H)
        with Locations((-14, -28.6)):
            Rectangle(SKETCH14_W, SKETCH14_H_2)
    extrude(amount=-CUT_EXTRUDE2_DEPTH, mode=Mode.SUBTRACT)


solid = part.part
